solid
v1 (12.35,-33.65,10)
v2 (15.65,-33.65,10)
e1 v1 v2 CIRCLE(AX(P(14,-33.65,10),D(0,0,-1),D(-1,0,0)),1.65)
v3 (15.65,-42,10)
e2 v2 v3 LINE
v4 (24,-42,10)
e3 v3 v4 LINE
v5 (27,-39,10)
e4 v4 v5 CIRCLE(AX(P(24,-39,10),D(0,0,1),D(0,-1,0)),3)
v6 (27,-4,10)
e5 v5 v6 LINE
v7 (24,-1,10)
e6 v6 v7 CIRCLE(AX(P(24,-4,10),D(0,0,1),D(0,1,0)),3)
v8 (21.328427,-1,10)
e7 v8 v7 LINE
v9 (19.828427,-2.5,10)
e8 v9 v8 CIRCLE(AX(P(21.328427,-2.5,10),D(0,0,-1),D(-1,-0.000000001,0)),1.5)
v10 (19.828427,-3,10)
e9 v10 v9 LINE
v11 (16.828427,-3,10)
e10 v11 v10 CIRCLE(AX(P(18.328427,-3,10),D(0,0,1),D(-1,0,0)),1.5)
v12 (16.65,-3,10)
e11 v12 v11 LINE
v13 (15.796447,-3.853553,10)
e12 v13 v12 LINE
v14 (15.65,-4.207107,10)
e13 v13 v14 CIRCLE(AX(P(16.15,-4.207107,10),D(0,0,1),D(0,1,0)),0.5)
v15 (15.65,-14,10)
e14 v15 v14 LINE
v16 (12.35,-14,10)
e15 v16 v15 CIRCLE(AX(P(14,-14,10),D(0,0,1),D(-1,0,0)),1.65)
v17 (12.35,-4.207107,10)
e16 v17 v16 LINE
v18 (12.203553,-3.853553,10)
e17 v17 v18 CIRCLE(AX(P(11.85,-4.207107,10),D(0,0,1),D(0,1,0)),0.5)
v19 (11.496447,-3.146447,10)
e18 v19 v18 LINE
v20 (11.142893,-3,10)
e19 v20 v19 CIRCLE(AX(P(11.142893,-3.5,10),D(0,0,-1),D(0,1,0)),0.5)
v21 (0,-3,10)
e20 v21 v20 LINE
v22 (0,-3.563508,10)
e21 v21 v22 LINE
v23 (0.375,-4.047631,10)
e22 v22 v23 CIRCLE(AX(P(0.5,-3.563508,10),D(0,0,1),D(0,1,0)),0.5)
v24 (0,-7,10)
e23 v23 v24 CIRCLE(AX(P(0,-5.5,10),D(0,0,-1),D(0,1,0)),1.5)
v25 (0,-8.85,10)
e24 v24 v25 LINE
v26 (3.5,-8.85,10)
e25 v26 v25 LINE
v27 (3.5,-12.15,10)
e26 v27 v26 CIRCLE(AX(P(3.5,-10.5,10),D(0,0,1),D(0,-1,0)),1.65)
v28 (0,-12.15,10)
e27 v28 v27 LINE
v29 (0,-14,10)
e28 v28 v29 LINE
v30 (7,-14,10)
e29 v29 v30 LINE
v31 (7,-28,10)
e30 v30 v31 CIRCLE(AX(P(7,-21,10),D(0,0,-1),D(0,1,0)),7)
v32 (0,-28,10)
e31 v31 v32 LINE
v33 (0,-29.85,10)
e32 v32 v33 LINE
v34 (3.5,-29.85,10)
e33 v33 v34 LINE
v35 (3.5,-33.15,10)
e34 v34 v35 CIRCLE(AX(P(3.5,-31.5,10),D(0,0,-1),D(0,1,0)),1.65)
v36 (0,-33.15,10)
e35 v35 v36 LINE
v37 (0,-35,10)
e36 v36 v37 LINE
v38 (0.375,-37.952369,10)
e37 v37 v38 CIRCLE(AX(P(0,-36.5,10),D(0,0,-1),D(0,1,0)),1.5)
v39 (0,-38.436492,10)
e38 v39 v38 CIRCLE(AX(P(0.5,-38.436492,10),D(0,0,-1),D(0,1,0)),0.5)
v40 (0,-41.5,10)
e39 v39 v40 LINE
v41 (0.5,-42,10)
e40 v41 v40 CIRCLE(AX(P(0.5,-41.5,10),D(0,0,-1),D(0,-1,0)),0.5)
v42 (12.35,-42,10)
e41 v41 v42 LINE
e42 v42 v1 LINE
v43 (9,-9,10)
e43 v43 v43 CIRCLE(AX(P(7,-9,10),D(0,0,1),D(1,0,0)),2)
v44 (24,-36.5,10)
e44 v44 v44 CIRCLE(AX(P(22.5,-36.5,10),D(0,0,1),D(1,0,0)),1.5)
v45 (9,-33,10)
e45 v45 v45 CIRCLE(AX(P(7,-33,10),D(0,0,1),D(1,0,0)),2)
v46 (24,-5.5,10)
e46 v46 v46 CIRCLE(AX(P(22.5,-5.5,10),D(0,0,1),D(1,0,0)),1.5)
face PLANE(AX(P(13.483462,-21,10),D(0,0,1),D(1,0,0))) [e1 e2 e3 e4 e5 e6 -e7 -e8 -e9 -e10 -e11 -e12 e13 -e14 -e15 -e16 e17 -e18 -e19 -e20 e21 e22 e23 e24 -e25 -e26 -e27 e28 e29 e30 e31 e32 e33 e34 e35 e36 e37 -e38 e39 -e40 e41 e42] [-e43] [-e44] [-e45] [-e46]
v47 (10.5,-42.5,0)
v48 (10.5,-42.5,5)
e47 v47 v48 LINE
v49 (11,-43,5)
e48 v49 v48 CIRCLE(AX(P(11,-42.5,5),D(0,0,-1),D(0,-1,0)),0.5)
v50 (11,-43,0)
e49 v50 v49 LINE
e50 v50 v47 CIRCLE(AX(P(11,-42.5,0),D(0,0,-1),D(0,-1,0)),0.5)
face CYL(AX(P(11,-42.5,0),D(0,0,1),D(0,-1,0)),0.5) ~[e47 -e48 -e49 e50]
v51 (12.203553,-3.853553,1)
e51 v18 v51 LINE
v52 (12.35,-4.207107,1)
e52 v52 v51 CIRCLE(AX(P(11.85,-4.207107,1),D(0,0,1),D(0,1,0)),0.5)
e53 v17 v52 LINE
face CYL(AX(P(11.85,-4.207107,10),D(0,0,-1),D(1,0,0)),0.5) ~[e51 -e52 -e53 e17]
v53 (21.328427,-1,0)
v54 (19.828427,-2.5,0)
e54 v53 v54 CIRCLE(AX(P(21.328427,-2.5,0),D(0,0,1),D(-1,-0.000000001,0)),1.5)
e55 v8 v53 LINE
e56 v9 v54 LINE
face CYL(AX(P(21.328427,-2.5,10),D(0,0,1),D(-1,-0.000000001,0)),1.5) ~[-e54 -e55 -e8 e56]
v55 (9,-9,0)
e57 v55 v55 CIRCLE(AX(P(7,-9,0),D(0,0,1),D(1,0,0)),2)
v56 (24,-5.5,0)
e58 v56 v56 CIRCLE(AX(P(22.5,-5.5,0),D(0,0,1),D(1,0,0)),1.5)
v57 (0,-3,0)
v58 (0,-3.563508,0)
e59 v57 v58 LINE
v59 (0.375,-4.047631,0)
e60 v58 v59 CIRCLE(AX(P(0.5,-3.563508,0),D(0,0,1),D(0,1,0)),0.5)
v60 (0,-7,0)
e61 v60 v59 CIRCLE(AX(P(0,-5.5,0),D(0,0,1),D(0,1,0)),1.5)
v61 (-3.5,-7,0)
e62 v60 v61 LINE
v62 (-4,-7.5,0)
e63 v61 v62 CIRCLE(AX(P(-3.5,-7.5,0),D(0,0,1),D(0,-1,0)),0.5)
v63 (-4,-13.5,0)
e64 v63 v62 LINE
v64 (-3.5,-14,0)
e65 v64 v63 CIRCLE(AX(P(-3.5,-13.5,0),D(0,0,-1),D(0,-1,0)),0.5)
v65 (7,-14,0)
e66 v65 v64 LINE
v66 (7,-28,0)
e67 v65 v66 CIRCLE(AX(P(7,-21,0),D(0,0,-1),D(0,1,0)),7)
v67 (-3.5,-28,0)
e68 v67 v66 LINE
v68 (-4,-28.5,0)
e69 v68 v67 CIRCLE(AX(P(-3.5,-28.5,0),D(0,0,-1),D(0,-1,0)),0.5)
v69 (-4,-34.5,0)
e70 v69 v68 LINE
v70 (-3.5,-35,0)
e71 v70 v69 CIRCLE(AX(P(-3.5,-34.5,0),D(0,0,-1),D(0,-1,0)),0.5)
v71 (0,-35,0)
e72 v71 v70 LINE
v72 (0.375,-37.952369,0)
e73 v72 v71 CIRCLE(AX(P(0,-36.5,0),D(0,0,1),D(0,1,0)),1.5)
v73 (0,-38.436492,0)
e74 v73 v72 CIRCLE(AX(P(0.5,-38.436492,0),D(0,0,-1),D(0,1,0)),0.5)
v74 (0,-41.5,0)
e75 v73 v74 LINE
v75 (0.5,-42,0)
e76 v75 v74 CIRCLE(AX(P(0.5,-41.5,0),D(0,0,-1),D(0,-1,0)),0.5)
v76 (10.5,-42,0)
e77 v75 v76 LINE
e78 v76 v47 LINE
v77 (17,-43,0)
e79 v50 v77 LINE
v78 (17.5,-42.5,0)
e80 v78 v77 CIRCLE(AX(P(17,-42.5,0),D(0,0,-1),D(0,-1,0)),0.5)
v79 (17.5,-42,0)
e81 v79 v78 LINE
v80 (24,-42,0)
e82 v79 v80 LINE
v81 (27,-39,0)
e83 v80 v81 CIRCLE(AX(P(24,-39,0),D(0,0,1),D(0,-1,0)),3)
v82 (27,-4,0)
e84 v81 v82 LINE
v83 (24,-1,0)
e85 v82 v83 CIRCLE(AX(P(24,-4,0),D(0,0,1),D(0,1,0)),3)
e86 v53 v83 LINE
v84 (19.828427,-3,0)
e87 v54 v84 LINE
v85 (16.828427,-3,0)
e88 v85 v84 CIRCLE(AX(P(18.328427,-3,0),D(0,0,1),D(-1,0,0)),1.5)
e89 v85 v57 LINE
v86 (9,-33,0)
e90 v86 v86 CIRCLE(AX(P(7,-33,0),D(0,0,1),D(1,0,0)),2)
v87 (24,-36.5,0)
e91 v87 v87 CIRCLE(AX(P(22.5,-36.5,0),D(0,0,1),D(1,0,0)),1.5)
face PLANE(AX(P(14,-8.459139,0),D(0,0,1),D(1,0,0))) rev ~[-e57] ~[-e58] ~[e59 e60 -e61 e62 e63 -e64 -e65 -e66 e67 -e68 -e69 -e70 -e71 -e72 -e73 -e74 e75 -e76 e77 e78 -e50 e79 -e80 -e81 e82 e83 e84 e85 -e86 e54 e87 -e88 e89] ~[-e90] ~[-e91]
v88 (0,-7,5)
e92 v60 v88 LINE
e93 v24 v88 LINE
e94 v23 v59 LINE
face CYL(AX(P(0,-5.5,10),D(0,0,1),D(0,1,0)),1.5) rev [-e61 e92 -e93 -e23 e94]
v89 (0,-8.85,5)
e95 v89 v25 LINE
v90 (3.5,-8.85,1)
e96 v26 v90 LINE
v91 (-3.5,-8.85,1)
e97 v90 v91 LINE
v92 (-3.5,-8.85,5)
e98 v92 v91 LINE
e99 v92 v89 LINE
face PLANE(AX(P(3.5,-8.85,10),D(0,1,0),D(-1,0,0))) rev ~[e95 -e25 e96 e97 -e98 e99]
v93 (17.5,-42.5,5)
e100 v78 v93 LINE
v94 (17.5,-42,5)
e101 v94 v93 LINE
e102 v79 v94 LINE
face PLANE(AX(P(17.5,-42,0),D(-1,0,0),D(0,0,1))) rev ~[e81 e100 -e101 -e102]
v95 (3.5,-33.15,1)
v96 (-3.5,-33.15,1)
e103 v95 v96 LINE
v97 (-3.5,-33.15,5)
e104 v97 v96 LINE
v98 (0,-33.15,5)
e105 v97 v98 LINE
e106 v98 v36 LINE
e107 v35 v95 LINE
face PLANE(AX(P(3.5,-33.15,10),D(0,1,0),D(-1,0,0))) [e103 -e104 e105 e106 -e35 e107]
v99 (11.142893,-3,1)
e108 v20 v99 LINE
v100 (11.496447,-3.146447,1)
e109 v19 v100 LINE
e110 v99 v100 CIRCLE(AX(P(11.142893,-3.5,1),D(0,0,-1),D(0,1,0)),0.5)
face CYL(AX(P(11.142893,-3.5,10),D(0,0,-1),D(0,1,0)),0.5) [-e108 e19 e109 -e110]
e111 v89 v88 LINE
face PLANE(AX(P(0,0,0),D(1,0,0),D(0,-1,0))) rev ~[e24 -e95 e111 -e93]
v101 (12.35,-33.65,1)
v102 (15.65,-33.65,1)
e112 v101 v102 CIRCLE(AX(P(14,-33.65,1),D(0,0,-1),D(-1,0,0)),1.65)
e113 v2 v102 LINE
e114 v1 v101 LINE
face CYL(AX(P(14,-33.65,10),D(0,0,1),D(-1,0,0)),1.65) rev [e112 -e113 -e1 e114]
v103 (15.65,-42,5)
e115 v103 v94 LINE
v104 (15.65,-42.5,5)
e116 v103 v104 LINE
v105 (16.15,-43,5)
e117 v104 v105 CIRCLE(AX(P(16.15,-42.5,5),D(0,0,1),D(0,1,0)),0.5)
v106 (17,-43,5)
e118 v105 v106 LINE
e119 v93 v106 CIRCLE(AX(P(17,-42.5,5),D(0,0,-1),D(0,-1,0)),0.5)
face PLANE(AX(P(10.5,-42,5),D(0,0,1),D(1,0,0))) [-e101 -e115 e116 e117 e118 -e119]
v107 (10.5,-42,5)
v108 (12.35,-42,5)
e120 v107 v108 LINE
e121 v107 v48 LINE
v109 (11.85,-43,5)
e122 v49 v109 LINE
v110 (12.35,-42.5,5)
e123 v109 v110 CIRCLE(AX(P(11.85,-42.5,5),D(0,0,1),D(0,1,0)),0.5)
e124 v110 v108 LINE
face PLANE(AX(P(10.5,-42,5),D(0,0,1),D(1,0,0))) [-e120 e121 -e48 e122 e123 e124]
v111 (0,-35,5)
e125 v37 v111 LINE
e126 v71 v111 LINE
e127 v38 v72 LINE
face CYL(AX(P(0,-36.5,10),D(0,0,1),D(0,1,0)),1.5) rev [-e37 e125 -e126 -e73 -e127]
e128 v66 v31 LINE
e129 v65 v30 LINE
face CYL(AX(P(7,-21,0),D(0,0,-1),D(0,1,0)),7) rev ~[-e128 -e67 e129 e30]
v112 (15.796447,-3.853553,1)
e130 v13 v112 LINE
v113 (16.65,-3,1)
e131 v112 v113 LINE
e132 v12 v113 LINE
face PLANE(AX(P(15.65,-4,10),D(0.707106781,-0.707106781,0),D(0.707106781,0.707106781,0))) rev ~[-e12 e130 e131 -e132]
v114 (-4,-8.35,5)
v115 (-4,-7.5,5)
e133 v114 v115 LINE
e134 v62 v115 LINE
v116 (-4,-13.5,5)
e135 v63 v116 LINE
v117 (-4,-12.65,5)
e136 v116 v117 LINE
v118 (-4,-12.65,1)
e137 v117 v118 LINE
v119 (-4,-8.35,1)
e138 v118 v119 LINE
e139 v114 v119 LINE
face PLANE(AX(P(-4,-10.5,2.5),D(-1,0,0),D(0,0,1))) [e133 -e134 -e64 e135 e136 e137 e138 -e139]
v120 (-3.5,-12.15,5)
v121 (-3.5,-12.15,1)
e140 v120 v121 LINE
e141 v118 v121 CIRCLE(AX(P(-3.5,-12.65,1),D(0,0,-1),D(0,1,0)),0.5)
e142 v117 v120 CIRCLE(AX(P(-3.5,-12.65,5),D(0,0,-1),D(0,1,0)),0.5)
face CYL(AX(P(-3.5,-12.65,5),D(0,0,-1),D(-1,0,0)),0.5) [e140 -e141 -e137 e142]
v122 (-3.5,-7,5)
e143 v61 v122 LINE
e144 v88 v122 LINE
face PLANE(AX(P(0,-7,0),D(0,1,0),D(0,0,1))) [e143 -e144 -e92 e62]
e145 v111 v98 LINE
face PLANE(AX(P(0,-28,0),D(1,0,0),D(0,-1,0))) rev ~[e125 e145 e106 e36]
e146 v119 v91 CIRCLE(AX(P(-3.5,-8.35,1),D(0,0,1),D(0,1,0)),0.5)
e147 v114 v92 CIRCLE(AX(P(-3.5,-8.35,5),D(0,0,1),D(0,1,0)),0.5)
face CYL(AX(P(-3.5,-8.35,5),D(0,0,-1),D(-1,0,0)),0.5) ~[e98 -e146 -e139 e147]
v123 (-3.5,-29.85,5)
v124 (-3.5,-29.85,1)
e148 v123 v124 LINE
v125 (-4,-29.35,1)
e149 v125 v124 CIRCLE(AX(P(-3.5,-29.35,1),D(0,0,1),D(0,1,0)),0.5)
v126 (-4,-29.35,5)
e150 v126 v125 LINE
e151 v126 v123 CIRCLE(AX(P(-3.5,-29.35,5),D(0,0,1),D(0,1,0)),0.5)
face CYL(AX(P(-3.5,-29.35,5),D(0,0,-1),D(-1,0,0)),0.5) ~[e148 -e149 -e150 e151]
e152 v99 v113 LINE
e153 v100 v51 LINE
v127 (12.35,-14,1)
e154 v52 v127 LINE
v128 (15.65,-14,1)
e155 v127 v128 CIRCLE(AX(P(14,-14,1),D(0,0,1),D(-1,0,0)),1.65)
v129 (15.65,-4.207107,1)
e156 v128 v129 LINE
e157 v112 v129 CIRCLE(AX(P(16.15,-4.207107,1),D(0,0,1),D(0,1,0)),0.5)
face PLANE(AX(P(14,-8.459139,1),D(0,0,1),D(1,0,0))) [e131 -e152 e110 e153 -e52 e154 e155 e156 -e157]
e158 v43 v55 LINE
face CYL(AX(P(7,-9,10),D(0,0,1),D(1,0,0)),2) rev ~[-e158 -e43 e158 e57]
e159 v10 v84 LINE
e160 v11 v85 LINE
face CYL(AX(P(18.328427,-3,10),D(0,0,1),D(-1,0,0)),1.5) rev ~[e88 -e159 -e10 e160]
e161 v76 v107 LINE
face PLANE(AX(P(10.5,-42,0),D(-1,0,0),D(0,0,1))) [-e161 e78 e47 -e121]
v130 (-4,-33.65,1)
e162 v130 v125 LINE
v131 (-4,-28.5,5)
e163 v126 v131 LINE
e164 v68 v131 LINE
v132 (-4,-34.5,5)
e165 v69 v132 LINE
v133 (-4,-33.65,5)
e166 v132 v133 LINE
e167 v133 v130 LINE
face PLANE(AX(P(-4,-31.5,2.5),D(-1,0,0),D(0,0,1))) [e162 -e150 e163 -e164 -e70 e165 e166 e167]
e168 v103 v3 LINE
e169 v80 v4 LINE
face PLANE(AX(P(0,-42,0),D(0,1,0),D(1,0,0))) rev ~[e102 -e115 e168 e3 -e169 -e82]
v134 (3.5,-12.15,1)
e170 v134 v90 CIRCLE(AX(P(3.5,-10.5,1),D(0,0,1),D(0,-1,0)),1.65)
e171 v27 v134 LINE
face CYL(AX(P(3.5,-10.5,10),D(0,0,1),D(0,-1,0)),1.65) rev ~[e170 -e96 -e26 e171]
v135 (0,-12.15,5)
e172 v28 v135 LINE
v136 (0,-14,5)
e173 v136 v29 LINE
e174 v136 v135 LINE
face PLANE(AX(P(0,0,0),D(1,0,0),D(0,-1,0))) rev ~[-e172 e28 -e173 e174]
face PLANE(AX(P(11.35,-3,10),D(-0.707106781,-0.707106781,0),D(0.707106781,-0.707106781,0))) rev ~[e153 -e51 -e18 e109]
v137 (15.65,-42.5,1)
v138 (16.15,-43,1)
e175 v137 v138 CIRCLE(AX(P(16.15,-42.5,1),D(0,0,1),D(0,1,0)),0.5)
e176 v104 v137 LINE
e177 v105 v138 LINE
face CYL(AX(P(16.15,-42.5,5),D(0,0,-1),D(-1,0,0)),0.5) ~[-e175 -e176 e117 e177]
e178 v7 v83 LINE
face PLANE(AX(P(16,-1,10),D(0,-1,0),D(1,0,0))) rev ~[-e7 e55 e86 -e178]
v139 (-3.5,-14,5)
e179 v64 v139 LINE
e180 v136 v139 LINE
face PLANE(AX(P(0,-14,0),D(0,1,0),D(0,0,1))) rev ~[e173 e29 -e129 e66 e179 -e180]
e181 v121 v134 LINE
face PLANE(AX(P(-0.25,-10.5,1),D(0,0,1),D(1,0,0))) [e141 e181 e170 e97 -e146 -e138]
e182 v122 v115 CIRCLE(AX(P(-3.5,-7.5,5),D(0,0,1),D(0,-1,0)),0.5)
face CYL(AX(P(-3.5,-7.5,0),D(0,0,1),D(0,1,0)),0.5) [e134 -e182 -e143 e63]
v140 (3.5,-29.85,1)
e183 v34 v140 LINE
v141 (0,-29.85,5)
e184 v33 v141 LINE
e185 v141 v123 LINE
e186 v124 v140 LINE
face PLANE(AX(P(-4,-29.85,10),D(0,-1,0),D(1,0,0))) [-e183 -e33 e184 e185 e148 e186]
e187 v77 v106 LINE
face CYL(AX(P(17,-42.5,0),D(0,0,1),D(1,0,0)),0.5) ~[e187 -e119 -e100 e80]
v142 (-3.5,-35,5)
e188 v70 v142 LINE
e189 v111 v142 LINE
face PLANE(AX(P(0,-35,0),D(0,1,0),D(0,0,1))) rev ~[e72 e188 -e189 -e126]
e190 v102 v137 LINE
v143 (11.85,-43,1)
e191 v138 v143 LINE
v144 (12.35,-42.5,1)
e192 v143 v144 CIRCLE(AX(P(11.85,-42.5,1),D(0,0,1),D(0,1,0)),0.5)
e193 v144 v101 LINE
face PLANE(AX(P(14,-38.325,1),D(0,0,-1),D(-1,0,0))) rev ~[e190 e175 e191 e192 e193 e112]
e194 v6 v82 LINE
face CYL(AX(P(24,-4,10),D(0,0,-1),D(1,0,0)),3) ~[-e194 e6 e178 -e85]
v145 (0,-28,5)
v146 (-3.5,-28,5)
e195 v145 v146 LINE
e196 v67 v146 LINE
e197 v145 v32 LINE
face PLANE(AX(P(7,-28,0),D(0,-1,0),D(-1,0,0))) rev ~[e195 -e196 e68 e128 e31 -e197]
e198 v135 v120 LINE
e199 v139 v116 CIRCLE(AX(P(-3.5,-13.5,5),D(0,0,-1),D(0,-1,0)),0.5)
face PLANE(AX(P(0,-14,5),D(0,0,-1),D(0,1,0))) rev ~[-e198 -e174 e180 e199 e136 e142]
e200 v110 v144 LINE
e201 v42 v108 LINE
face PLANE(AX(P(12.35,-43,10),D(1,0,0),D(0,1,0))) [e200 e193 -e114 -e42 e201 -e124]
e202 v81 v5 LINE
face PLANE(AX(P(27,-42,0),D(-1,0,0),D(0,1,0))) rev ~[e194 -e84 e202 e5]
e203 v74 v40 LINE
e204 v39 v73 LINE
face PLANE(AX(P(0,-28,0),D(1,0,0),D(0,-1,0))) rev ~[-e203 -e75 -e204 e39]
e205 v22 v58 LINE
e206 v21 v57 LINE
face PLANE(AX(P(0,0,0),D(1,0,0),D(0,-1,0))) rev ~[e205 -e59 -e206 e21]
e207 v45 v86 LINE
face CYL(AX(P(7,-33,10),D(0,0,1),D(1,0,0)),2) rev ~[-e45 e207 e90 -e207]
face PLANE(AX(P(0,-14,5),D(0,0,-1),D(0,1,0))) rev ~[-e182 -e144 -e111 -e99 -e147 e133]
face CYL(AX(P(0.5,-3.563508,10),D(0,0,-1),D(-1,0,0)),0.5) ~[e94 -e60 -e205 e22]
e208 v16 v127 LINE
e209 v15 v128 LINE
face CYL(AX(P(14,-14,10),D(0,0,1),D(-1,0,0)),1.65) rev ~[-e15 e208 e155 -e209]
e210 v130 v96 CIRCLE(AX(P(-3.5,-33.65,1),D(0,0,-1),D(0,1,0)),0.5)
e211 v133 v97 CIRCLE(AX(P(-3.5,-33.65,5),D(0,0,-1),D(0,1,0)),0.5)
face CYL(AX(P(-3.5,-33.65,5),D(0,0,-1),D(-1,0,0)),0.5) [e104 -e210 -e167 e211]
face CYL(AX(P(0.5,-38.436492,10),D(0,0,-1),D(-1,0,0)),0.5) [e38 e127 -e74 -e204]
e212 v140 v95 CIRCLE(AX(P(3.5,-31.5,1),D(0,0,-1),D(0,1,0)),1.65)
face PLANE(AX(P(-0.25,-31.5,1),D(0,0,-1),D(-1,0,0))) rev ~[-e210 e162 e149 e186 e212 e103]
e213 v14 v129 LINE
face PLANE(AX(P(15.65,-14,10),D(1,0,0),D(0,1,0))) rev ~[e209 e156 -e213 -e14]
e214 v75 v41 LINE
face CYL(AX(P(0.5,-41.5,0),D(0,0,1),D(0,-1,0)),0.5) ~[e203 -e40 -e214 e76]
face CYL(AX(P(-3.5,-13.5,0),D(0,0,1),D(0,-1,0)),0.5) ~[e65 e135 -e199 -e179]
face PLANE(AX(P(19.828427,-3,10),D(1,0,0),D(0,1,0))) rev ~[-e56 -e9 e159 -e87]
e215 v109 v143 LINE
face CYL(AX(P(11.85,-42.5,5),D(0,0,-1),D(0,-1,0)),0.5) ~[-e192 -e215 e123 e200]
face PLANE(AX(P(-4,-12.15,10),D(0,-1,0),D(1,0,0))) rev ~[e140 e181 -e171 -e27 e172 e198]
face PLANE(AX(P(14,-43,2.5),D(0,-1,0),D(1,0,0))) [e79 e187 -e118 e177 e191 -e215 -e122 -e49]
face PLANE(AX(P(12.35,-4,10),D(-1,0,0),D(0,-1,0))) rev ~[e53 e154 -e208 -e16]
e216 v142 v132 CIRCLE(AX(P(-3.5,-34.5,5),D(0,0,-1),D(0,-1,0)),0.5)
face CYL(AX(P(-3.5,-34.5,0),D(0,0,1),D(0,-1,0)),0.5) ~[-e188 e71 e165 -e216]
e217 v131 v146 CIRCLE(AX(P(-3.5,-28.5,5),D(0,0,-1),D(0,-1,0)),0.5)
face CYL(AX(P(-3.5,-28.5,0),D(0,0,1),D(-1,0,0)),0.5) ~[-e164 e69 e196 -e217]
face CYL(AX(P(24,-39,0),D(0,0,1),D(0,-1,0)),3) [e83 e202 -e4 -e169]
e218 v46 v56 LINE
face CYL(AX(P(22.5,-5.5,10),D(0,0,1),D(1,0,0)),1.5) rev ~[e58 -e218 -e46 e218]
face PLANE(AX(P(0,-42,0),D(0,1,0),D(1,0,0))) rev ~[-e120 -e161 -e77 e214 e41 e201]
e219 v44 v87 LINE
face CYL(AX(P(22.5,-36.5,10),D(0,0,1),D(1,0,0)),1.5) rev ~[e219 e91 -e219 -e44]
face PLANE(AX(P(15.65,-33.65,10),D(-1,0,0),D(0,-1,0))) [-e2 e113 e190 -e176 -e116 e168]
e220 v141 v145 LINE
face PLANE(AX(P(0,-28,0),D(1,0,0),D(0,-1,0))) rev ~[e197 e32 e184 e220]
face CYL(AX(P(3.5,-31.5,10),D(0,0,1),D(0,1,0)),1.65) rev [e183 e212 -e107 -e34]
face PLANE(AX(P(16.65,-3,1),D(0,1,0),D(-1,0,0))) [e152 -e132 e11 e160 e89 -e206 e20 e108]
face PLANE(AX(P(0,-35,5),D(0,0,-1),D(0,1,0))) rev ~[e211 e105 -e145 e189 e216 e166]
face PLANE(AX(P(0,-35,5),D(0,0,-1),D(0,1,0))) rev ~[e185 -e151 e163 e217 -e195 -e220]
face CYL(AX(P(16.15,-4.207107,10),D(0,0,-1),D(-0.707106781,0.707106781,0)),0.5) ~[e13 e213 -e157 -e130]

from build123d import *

# Parameters (mm, degrees)
BOSS_EXTRUDE5_DEPTH = 10
SKETCH32_W          = 5
SKETCH32_H          = 7
BOSS_EXTRUDE6_DEPTH = 4
SKETCH15_R          = 2
SKETCH15_R_2        = 1.5
CUT_EXTRUDE8_DEPTH  = 51.921508226
CUT_EXTRUDE18_DEPTH = 9
CUT_EXTRUDE19_DEPTH = 51.921508226
SKETCH20_W          = 18.573206134
SKETCH20_H          = 9.890954849
CUT_EXTRUDE12_DEPTH = 51.921508226
SKETCH28_W          = 11
SKETCH28_H          = 1
CUT_EXTRUDE15_DEPTH = 10
SKETCH37_W          = 7
SKETCH37_H          = 5
BOSS_EXTRUDE7_DEPTH = 1
CUT_EXTRUDE11_DEPTH = 9
CUT_EXTRUDE20_DEPTH = 52.749396132
BOSS_EXTRUDE8_START = -1
BOSS_EXTRUDE8_DEPTH = 1
FILLET15_R          = 3
FILLET16_R          = 0.5


with BuildPart() as part:
    # Sketch14 → Boss-Extrude5 (new body)
    with BuildSketch(Plane.XY):
        with BuildLine():
            Line((27, -8.5), (27, 0))
            Line((27, 0), (0, 0))
            Line((0, 0), (0, -14))
            Line((0, -14), (7, -14))
            ThreePointArc((7, -14), (14, -21), (7, -28))
            Line((7, -28), (0, -28))
            Line((0, -28), (0, -42))
            Line((0, -42), (27, -42))
            Line((27, -42), (27, -33.5))
            Line((27, -33.5), (27, -8.5))
        make_face()
    extrude(amount=BOSS_EXTRUDE5_DEPTH)

    # Sketch32 → Boss-Extrude6 (add)
    with BuildSketch(Plane.ZY):
        with Locations((2.5, -10.5)):
            Rectangle(SKETCH32_W, SKETCH32_H)
        with Locations((2.5, -31.5)):
            Rectangle(SKETCH32_W, SKETCH32_H)
    extrude(amount=BOSS_EXTRUDE6_DEPTH)

    # Sketch15 → Cut-Extrude8 (cut, through all)
    with BuildSketch(Plane.XY.offset(10)):
        with Locations((7, -9)):
            Circle(SKETCH15_R)
        with Locations((22.5, -5.5)):
            Circle(SKETCH15_R_2)
        with Locations((22.5, -36.5)):
            Circle(SKETCH15_R_2)
        with Locations((7, -33)):
            Circle(SKETCH15_R)
        with Locations((-8.5, -36.5)):
            Circle(SKETCH15_R_2)
    extrude(amount=-CUT_EXTRUDE8_DEPTH, mode=Mode.SUBTRACT)

    # Sketch33 → Cut-Extrude18 (cut)
    with BuildSketch(Plane.XY.offset(10)):
        with BuildLine():
            Line((-4, -29.85), (3.5, -29.85))
            ThreePointArc((3.5, -29.85), (5.15, -31.5), (3.5, -33.15))
            Line((3.5, -33.15), (-4, -33.15))
            ThreePointArc((-4, -33.15), (-5.65, -31.5), (-4, -29.85))
        make_face()
        with BuildLine():
            Line((-4, -12.15), (3.5, -12.15))
            ThreePointArc((3.5, -12.15), (5.15, -10.5), (3.5, -8.85))
            Line((3.5, -8.85), (-4, -8.85))
            ThreePointArc((-4, -8.85), (-5.65, -10.5), (-4, -12.15))
        make_face()
    extrude(amount=-CUT_EXTRUDE18_DEPTH, mode=Mode.SUBTRACT)

    # Sketch34 → Cut-Extrude19 (cut, through all)
    with BuildSketch(Plane.XY.offset(10)):
        with BuildLine():
            Line((0, -7), (-4.5, -7))
            ThreePointArc((-4.5, -7), (-6, -5.5), (-4.5, -4))
            Line((-4.5, -4), (0, -4))
            ThreePointArc((0, -4), (1.5, -5.5), (0, -7))
        make_face()
        with BuildLine():
            Line((0, -38), (-4, -38))
            ThreePointArc((-4, -38), (-5.5, -36.5), (-4, -35))
            Line((-4, -35), (0, -35))
            ThreePointArc((0, -35), (1.5, -36.5), (0, -38))
        make_face()
    extrude(amount=-CUT_EXTRUDE19_DEPTH, mode=Mode.SUBTRACT)

    # Sketch20 → Cut-Extrude12 (cut, through all)
    with BuildSketch(Plane.XY.offset(10)):
        with Locations((6.713396933, 2.275477425)):
            Rectangle(SKETCH20_W, SKETCH20_H)
    extrude(amount=-CUT_EXTRUDE12_DEPTH, mode=Mode.SUBTRACT)

    # Sketch28 → Cut-Extrude15 (cut)
    with BuildSketch(Plane.XY.offset(10)):
        with Locations((21.5, -0.5)):
            Rectangle(SKETCH28_W, SKETCH28_H)
    extrude(amount=-CUT_EXTRUDE15_DEPTH, mode=Mode.SUBTRACT)

    # Sketch37 → Boss-Extrude7 (add)
    with BuildSketch(Plane.XZ.offset(42)):
        with Locations((14, 2.5)):
            Rectangle(SKETCH37_W, SKETCH37_H)
    extrude(amount=BOSS_EXTRUDE7_DEPTH)

    # Sketch19 → Cut-Extrude11 (cut)
    with BuildSketch(Plane.XY.offset(10)):
        with BuildLine():
            Line((15.65, -33.65), (15.65, -43))
            ThreePointArc((15.65, -43), (14, -44.65), (12.35, -43))
            Line((12.35, -43), (12.35, -33.65))
            ThreePointArc((12.35, -33.65), (14, -32), (15.65, -33.65))
        make_face()
    extrude(amount=-CUT_EXTRUDE11_DEPTH, mode=Mode.SUBTRACT)

    # Sketch35 → Cut-Extrude20 (cut, through all)
    with BuildSketch(Plane.XY.offset(10)):
        with BuildLine():
            Line((11.35, -3), (12.35, -4))
            Line((12.35, -4), (12.35, -14))
            ThreePointArc((12.35, -14), (14, -15.65), (15.65, -14))
            Line((15.65, -14), (15.65, -4))
            Line((15.65, -4), (16.65, -3))
            Line((16.65, -3), (16.828427125, -3))
            ThreePointArc((16.828427125, -3), (18.328427125, -4.5), (19.828427125, -3))
            Line((19.828427125, -3), (19.828427125, -2.5))
            ThreePointArc((19.828427125, -2.5), (20.267766953, -1.439339828), (21.328427125, -1))
            Line((21.328427125, -1), (16, -1))
            Line((16, -1), (16, -2.67))
            Line((16, -2.67), (0, -2.67))
            Line((0, -2.67), (0, -3))
            Line((0, -3), (11.35, -3))
        make_face()
    extrude(amount=-CUT_EXTRUDE20_DEPTH, mode=Mode.SUBTRACT)

    # Sketch39 → Boss-Extrude8 (add)
    with BuildSketch(Plane(origin=(0, 0, 0), x_dir=(-1, 0, 0), z_dir=(0, 0, -1)).offset(BOSS_EXTRUDE8_START)):
        with BuildLine():
            Line((-15.65, -4), (-16.65, -3))
            Line((-16.65, -3), (-11.35, -3))
            Line((-11.35, -3), (-12.35, -4))
            Line((-12.35, -4), (-12.35, -14))
            ThreePointArc((-12.35, -14), (-14, -15.65), (-15.65, -14))
            Line((-15.65, -14), (-15.65, -4))
        make_face()
    extrude(amount=BOSS_EXTRUDE8_DEPTH)

    # Fillet15
    fillet15_edges = [part.edges().sort_by_distance(p)[0] for p in [
        (27, -42, 5),
        (27, -1, 5),
    ]]
    fillet(fillet15_edges, radius=FILLET15_R)

    # Fillet16
    fillet16_edges = [part.edges().sort_by_distance(p)[0] for p in [
        (0, -42, 5),
        (-4, -35, 2.5),
        (-4, -33.15, 3),
        (-4, -29.85, 3),
        (-4, -28, 2.5),
        (-4, -14, 2.5),
        (-4, -7, 2.5),
        (-4, -12.15, 3),
        (-4, -8.85, 3),
        (0, -4, 5),
        (0, -38, 5),
        (10.5, -43, 2.5),
        (17.5, -43, 2.5),
        (15.65, -43, 3),
        (12.35, -43, 3),
        (15.65, -4, 5.5),
        (12.35, -4, 5.5),
        (11.35, -3, 5.5),
    ]]
    fillet(fillet16_edges, radius=FILLET16_R)


solid = part.part
